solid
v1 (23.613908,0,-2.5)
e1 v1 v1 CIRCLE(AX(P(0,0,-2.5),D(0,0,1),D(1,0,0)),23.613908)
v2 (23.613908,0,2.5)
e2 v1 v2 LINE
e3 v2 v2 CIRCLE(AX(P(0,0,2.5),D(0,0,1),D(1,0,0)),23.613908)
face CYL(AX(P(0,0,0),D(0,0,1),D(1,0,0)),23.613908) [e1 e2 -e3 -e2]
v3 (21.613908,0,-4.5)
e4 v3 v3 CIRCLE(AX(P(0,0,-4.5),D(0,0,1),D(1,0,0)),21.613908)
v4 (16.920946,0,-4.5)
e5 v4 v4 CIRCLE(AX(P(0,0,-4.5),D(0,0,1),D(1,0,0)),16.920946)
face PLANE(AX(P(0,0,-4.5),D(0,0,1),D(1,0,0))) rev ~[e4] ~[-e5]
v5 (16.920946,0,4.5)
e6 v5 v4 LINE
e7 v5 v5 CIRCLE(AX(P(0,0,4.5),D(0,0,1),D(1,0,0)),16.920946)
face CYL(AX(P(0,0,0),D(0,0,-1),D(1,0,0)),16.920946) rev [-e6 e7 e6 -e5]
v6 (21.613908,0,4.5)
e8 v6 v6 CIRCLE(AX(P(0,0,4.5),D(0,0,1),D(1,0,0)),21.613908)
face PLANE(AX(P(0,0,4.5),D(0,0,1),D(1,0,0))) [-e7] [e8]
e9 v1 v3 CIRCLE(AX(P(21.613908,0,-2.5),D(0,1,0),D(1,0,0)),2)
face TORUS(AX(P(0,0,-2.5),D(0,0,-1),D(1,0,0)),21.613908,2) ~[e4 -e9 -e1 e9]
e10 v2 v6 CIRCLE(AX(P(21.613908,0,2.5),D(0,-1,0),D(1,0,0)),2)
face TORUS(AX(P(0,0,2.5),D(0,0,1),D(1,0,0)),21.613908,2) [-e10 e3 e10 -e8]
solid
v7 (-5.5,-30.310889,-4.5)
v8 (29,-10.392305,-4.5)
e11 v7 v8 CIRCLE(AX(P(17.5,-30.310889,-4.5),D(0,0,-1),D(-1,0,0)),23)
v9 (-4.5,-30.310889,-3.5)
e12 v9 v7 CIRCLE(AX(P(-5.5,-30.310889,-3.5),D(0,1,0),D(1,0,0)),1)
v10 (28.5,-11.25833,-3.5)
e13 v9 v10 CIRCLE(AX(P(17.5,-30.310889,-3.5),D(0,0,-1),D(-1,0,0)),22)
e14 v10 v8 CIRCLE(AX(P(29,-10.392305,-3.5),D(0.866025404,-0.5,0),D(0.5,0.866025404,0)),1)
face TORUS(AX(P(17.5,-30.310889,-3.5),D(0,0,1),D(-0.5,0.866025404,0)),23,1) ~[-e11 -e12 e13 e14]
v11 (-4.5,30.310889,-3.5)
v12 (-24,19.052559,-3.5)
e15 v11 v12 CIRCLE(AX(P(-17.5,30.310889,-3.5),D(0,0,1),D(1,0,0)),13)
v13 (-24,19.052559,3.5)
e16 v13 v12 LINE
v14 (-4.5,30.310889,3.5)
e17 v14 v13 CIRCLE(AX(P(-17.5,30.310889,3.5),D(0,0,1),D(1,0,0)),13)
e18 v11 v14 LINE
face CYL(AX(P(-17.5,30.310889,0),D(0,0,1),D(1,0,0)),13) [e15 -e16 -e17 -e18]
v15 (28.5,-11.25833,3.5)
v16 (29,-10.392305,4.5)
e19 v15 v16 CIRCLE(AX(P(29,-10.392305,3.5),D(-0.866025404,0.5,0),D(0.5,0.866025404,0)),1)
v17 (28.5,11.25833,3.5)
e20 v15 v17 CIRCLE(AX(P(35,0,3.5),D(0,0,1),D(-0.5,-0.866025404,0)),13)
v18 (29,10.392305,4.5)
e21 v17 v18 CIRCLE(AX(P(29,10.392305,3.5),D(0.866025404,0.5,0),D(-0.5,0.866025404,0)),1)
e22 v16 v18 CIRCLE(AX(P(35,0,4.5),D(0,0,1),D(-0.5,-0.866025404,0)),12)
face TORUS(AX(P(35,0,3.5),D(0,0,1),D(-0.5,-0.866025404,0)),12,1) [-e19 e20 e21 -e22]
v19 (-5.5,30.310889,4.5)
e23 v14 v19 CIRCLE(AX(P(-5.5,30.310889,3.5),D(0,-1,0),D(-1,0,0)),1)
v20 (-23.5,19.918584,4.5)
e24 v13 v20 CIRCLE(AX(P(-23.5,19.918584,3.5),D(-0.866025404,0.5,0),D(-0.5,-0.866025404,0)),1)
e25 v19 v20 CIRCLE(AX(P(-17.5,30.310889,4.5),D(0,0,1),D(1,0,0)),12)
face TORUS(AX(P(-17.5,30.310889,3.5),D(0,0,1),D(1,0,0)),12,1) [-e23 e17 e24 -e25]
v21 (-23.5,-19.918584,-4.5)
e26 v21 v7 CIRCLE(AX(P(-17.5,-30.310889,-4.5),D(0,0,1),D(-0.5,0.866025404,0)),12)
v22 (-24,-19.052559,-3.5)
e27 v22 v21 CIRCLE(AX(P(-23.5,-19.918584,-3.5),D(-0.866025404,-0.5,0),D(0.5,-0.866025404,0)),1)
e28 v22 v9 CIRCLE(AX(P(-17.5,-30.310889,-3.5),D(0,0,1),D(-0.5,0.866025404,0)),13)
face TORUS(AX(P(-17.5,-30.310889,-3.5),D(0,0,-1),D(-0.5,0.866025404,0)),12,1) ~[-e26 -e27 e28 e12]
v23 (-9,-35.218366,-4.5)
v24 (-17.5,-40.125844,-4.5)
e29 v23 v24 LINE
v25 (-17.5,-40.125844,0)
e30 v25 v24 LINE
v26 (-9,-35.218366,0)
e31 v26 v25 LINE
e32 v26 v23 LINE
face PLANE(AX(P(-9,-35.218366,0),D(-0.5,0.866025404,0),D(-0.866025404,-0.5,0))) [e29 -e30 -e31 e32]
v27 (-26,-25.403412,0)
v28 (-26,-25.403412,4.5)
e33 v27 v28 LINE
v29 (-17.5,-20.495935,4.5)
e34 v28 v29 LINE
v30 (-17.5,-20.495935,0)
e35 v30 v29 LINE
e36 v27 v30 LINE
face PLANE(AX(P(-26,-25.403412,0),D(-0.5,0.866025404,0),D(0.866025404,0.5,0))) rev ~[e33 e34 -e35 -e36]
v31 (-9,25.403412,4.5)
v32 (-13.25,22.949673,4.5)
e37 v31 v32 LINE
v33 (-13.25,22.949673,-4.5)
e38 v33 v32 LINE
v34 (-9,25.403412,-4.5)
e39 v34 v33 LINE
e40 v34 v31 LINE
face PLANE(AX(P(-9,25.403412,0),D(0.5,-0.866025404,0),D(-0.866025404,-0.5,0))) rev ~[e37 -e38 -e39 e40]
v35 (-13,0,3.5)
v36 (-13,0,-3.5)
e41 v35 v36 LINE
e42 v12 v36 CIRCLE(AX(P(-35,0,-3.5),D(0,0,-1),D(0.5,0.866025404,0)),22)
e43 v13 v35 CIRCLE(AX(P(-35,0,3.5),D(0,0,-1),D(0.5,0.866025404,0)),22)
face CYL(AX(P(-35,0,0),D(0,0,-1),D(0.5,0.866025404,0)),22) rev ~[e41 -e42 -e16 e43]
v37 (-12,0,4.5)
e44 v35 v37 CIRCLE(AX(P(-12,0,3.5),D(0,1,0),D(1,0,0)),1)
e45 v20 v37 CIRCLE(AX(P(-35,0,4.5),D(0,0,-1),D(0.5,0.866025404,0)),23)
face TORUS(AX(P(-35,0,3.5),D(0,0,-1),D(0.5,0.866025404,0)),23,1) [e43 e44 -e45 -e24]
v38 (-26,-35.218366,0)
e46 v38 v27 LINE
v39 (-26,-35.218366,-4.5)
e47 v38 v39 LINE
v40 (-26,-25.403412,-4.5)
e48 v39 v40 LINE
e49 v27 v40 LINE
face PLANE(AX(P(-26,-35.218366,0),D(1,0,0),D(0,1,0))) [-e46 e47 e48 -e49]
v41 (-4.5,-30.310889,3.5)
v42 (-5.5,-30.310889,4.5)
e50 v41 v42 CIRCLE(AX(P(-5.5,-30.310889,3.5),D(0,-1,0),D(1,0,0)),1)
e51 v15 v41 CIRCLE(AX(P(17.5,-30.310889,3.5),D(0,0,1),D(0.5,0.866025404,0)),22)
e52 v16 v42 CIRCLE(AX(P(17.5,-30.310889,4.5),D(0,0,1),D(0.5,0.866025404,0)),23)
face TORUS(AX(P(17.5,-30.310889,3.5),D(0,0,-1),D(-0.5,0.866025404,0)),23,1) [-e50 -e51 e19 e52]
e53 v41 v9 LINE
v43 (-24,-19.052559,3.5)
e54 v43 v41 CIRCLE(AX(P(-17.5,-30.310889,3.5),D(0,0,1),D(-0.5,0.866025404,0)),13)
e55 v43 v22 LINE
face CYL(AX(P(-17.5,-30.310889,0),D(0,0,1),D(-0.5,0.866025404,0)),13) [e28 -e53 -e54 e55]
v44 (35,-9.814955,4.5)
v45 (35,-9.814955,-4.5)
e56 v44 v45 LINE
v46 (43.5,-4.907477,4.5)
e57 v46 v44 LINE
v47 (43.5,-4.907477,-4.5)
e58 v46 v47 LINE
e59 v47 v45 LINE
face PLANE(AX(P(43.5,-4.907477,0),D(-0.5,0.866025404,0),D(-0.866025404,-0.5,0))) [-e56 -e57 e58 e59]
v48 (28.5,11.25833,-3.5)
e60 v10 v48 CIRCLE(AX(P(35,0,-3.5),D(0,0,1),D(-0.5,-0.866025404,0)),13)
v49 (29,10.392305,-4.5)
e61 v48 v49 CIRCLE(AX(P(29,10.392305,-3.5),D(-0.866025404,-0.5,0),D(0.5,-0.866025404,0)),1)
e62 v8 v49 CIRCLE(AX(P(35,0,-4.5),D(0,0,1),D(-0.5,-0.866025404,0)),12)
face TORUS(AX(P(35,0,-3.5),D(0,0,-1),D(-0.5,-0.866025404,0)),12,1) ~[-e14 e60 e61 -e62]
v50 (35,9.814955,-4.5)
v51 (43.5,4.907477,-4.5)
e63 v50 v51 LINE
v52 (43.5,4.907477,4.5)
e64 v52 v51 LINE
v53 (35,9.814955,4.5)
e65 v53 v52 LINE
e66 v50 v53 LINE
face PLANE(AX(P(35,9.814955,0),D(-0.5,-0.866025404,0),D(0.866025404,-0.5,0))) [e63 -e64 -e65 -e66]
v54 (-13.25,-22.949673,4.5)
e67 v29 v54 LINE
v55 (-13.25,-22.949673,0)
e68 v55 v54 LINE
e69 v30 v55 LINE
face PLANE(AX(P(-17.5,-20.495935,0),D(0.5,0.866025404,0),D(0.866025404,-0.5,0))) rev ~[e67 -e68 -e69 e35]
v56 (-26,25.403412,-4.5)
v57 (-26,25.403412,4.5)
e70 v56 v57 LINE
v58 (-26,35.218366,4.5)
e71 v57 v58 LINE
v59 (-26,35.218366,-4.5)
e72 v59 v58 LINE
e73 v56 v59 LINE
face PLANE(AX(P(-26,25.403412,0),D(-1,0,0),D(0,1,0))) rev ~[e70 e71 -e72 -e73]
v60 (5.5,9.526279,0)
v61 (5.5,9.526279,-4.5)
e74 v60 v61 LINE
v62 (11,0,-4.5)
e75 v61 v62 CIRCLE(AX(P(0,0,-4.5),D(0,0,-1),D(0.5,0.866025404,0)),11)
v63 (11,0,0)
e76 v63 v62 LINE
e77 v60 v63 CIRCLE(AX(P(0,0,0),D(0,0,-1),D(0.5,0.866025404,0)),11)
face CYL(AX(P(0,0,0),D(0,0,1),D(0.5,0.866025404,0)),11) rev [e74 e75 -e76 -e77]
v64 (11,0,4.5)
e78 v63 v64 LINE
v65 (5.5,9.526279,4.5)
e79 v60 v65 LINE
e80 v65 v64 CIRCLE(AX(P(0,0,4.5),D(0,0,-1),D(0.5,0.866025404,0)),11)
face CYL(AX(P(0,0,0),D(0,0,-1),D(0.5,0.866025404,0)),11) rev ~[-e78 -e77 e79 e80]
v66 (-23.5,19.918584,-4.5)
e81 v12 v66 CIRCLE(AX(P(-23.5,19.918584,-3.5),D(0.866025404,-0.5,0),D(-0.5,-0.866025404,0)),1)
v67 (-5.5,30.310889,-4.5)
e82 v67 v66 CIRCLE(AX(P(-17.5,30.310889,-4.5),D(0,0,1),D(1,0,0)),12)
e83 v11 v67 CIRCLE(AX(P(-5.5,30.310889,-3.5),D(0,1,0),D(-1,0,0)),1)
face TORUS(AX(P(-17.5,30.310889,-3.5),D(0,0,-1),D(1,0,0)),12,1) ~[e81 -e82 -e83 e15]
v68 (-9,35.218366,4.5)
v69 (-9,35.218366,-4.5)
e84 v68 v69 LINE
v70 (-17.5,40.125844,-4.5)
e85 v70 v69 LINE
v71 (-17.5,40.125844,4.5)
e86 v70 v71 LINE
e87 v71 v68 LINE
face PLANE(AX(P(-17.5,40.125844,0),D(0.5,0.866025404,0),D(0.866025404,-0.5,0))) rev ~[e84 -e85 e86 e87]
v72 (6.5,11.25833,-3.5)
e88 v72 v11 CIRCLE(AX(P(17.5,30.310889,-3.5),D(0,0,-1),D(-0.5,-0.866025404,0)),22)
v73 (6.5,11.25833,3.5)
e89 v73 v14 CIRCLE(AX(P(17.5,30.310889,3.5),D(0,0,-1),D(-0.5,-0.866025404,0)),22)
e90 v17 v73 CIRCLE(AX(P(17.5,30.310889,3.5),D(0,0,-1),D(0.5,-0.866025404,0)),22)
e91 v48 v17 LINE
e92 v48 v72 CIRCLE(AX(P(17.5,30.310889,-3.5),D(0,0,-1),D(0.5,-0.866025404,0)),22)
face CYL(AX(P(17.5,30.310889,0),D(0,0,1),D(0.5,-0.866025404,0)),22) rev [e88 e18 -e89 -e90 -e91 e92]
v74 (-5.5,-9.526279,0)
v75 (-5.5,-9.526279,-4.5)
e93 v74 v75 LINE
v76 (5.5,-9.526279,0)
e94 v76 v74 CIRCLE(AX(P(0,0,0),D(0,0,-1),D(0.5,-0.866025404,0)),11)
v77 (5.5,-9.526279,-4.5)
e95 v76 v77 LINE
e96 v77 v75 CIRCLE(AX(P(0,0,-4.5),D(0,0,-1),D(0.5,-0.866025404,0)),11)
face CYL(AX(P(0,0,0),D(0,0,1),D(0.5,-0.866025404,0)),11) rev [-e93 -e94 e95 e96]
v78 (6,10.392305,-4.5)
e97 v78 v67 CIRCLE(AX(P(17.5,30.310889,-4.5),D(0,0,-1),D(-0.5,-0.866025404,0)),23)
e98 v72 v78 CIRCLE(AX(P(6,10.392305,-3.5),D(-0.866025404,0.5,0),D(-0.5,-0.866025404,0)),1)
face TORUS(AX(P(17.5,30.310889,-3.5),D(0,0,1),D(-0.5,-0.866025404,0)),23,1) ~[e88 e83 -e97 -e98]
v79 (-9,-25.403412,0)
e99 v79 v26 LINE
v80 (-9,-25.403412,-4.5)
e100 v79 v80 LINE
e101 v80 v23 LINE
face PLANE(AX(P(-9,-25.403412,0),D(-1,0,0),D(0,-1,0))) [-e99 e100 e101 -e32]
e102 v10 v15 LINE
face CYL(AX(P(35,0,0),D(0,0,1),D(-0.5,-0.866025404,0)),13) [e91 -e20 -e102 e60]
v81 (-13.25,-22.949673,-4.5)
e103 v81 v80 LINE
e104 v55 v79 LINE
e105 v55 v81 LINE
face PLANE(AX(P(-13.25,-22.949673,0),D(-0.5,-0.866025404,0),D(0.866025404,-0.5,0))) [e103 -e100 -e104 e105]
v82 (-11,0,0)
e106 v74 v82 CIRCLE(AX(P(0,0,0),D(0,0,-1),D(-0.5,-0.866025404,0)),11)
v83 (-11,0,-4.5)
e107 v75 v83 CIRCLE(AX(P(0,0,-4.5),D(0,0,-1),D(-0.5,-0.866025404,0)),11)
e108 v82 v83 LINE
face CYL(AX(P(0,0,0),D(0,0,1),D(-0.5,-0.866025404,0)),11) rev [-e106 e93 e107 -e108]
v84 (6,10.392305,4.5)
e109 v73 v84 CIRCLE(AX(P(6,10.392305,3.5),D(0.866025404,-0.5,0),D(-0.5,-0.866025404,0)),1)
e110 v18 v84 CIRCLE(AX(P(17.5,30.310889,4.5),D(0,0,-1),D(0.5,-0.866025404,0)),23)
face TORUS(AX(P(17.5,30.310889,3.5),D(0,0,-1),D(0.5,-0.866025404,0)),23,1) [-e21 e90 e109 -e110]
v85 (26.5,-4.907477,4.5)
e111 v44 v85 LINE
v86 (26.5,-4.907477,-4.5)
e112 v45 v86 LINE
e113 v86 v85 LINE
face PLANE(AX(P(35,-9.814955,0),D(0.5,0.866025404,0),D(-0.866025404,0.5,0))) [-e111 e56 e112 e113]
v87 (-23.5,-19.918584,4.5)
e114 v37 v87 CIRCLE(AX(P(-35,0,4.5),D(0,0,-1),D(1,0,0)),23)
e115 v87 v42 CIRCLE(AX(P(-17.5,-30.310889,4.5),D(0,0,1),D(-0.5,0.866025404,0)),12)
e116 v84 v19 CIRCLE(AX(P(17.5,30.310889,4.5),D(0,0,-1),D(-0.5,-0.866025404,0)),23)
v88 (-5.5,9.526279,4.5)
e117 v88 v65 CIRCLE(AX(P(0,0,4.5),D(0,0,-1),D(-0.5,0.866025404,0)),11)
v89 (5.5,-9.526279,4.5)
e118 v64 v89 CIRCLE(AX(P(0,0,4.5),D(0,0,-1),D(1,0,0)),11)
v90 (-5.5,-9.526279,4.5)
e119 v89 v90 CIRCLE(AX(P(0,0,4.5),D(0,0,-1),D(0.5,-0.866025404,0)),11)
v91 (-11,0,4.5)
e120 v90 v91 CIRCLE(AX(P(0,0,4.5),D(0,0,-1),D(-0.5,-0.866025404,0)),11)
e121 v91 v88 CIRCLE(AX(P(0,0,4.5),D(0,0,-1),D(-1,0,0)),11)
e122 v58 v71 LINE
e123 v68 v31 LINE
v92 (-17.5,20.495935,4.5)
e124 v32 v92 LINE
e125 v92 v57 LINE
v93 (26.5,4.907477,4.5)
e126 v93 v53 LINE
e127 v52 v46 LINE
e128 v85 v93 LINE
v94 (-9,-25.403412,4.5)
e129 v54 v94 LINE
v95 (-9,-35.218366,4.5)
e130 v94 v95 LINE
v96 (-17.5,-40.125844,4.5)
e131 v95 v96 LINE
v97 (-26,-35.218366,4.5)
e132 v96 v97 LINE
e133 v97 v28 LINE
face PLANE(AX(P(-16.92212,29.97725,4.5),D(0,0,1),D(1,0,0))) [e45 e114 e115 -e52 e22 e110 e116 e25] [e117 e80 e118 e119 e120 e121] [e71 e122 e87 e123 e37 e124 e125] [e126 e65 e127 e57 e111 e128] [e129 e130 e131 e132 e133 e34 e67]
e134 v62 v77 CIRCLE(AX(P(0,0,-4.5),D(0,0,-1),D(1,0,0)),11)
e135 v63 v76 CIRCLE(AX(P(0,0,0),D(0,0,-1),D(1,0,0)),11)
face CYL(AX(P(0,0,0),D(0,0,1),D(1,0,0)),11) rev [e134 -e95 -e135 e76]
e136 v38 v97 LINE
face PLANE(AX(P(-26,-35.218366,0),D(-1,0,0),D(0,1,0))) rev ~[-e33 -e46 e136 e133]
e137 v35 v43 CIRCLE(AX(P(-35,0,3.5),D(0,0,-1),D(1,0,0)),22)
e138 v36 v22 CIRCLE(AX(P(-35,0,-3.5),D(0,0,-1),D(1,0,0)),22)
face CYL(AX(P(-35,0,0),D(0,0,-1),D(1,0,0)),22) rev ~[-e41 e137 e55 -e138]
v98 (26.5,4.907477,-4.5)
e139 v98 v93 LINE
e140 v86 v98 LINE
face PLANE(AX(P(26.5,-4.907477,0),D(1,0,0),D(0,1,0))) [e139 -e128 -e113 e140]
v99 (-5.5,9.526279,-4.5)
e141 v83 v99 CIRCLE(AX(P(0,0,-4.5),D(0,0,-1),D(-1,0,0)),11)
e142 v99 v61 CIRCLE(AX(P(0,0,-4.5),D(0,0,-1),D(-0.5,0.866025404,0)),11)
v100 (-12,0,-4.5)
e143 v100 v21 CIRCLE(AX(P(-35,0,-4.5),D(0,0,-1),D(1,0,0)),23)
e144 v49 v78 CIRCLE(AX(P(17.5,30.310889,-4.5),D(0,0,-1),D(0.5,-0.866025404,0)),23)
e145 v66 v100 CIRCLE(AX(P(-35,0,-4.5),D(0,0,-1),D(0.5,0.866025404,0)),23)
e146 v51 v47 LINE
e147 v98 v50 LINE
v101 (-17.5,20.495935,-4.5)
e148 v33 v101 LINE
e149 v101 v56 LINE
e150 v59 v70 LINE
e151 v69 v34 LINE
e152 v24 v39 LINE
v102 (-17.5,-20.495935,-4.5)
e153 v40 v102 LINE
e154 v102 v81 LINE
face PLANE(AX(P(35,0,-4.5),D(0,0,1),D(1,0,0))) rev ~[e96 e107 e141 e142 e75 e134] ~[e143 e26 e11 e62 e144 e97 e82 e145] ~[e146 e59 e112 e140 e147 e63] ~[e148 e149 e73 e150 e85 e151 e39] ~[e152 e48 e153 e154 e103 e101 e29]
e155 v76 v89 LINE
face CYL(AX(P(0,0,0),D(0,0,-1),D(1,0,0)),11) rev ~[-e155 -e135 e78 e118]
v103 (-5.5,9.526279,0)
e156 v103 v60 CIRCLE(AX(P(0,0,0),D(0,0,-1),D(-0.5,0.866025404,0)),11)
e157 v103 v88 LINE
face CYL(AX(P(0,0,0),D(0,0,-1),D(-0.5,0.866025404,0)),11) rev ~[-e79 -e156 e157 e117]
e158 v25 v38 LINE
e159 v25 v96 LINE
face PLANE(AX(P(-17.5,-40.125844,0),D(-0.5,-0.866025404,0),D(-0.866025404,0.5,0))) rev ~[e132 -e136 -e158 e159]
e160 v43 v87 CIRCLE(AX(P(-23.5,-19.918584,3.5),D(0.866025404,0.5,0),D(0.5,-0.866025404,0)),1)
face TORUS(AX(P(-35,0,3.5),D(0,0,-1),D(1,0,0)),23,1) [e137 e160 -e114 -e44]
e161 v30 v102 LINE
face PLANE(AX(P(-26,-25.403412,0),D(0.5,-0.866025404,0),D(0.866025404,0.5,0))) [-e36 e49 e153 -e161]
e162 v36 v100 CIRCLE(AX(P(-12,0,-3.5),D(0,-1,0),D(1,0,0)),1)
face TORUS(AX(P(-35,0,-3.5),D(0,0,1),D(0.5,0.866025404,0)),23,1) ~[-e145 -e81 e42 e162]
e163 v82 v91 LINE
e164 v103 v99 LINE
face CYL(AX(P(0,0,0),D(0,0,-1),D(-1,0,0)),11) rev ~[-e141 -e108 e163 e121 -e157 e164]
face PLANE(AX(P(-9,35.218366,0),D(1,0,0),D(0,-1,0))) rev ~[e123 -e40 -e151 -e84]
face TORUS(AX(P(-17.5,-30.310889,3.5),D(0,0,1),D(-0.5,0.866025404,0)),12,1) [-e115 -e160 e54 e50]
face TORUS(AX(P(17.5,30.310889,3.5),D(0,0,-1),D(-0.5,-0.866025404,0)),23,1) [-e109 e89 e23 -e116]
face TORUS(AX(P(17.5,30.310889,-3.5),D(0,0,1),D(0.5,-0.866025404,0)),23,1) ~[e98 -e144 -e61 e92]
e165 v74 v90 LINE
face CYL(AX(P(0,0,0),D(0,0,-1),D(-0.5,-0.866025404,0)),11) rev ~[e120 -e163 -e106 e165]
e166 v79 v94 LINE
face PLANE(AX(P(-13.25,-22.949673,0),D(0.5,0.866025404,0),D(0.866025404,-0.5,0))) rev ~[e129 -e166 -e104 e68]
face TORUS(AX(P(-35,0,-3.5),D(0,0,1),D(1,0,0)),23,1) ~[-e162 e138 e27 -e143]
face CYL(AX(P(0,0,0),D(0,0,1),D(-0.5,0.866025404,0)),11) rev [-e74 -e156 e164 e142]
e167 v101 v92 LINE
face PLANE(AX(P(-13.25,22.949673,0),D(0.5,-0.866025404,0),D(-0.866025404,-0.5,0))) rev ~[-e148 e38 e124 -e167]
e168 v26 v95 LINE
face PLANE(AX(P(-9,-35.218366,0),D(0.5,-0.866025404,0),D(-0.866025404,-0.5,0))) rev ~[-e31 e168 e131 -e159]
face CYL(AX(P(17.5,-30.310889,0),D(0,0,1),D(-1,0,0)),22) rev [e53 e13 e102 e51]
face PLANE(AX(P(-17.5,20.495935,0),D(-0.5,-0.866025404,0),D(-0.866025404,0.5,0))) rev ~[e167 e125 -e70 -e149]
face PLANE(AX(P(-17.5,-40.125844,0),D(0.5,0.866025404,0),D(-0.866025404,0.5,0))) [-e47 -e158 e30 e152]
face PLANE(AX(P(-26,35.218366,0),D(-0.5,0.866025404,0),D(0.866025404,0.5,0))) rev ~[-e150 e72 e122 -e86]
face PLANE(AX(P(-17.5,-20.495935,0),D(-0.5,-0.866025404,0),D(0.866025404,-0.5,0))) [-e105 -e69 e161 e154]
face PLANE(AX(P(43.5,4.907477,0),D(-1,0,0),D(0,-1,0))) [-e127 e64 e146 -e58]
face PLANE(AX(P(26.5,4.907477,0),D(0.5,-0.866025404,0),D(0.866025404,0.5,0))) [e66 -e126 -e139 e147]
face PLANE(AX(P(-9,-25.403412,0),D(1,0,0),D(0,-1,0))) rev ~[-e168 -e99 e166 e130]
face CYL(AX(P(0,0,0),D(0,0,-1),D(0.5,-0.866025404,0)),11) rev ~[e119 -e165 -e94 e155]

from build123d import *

# Parameters (mm, degrees)
F1_DEPTH = 4.5
F2_R     = 1
F3_DEPTH = 4.5
F4_R     = 23.613908077
F4_R_2   = 16.9209464744
F5_DEPTH = 4.5
F6_DEPTH = 4.5
F7_R     = 2


with BuildPart() as f1:
    # F0 (on Top) → F1 (new body, symmetric)
    with BuildSketch(Plane.XY):
        with BuildLine():
            ThreePointArc((-11, 0), (-9.5262794416, 5.5), (-5.5, 9.5262794416))
            Line((-5.5, 9.5262794416), (-11, 19.0525588833))
            ThreePointArc((-11, 19.0525588833), (-17.5, 17.3108891325), (-24, 19.0525588833))
            ThreePointArc((-24, 19.0525588833), (-15.9474411167, 11), (-13, 0))
            Line((-13, 0), (-11, 0))
        make_face()
        with BuildLine():
            Line((-11, 19.0525588833), (-5.5, 9.5262794416))
            ThreePointArc((-5.5, 9.5262794416), (0, 11), (5.5, 9.5262794416))
            Line((5.5, 9.5262794416), (6.5, 11.2583302492))
            ThreePointArc((6.5, 11.2583302492), (-1.5525588833, 19.3108891325), (-4.5, 30.3108891325))
            ThreePointArc((-4.5, 30.3108891325), (-6.2416697508, 23.8108891325), (-11, 19.0525588833))
        make_face()
        with BuildLine():
            ThreePointArc((5.5, 9.5262794416), (9.5262794416, 5.5), (11, 0))
            Line((11, 0), (22, 0))
            ThreePointArc((22, 0), (23.7416697508, 6.5), (28.5, 11.2583302492))
            ThreePointArc((28.5, 11.2583302492), (17.5, 8.3108891325), (6.5, 11.2583302492))
            Line((6.5, 11.2583302492), (5.5, 9.5262794416))
        make_face()
        with BuildLine():
            Line((22, 0), (11, 0))
            ThreePointArc((11, 0), (9.5262794416, -5.5), (5.5, -9.5262794416))
            Line((5.5, -9.5262794416), (6.5, -11.2583302492))
            ThreePointArc((6.5, -11.2583302492), (17.5, -8.3108891325), (28.5, -11.2583302492))
            ThreePointArc((28.5, -11.2583302492), (23.7416697508, -6.5), (22, 0))
        make_face()
        with BuildLine():
            ThreePointArc((5.5, -9.5262794416), (0, -11), (-5.5, -9.5262794416))
            Line((-5.5, -9.5262794416), (-11, -19.0525588833))
            ThreePointArc((-11, -19.0525588833), (-6.2416697508, -23.8108891325), (-4.5, -30.3108891325))
            ThreePointArc((-4.5, -30.3108891325), (-1.5525588833, -19.3108891325), (6.5, -11.2583302492))
            Line((6.5, -11.2583302492), (5.5, -9.5262794416))
        make_face()
        with BuildLine():
            Line((-11, -19.0525588833), (-5.5, -9.5262794416))
            ThreePointArc((-5.5, -9.5262794416), (-9.5262794416, -5.5), (-11, 0))
            Line((-11, 0), (-13, 0))
            ThreePointArc((-13, 0), (-15.9474411167, -11), (-24, -19.0525588833))
            ThreePointArc((-24, -19.0525588833), (-17.5, -17.3108891325), (-11, -19.0525588833))
        make_face()
        with BuildLine():
            ThreePointArc((28.5, 11.2583302492), (23.7416697508, 6.5), (22, 0))
            ThreePointArc((22, 0), (23.7416697508, -6.5), (28.5, -11.2583302492))
            ThreePointArc((28.5, -11.2583302492), (41.5, -11.2583302492), (48, 0))
            ThreePointArc((48, 0), (41.5, 11.2583302492), (28.5, 11.2583302492))
        make_face()
        with BuildLine():
            ThreePointArc((46, 0), (35, -11), (24, 0))
            ThreePointArc((24, 0), (35, 11), (46, 0))
        make_face(mode=Mode.SUBTRACT)
        with BuildLine():
            ThreePointArc((-24, 19.0525588833), (-17.5, 17.3108891325), (-11, 19.0525588833))
            ThreePointArc((-11, 19.0525588833), (-6.2416697508, 23.8108891325), (-4.5, 30.3108891325))
            ThreePointArc((-4.5, 30.3108891325), (-24, 41.5692193817), (-24, 19.0525588833))
        make_face()
        with BuildLine():
            ThreePointArc((-6.5, 30.3108891325), (-7.9737205584, 24.8108891325), (-12, 20.7846096908))
            ThreePointArc((-12, 20.7846096908), (-27.0262794416, 35.8108891325), (-6.5, 30.3108891325))
        make_face(mode=Mode.SUBTRACT)
        with BuildLine():
            ThreePointArc((-4.5, -30.3108891325), (-6.2416697508, -23.8108891325), (-11, -19.0525588833))
            ThreePointArc((-11, -19.0525588833), (-17.5, -17.3108891325), (-24, -19.0525588833))
            ThreePointArc((-24, -19.0525588833), (-24, -41.5692193817), (-4.5, -30.3108891325))
        make_face()
        with BuildLine():
            ThreePointArc((-6.5, -30.3108891325), (-27.0262794416, -35.8108891325), (-12, -20.7846096908))
            ThreePointArc((-12, -20.7846096908), (-7.9737205584, -24.8108891325), (-6.5, -30.3108891325))
        make_face(mode=Mode.SUBTRACT)
    extrude(amount=F1_DEPTH, both=True)

    # F2
    f2_edges = [f1.edges().sort_by_distance(p)[0] for p in [
        (6.5, -11.25833, 4.5),
        (6.5, 11.25833, -4.5),
        (-13, 0, -4.5),
    ]]
    fillet(f2_edges, radius=F2_R)

    # F0 (on Top) → F3 (join)
    with BuildSketch(Plane.XY):
        with BuildLine():
            ThreePointArc((-6.5, 30.3108891325), (-27.0262794416, 35.8108891325), (-12, 20.7846096908))
            ThreePointArc((-12, 20.7846096908), (-7.9737205584, 24.8108891325), (-6.5, 30.3108891325))
        make_face()
        Polygon((-9, 25.4034118443), (-13.25, 22.9496732003), (-17.5, 20.4959345562), (-26, 25.4034118443), (-26, 35.2183664206), (-17.5, 40.1258437087), (-9, 35.2183664206), align=None, mode=Mode.SUBTRACT)
        with BuildLine():
            ThreePointArc((46, 0), (35, 11), (24, 0))
            ThreePointArc((24, 0), (35, -11), (46, 0))
        make_face()
        Polygon((26.5, -4.9074772881), (26.5, 0), (26.5, 4.9074772881), (35, 9.8149545762), (43.5, 4.9074772881), (43.5, -4.9074772881), (35, -9.8149545762), align=None, mode=Mode.SUBTRACT)
        with BuildLine():
            ThreePointArc((-6.5, -30.3108891325), (-7.9737205584, -24.8108891325), (-12, -20.7846096908))
            ThreePointArc((-12, -20.7846096908), (-27.0262794416, -35.8108891325), (-6.5, -30.3108891325))
        make_face()
        Polygon((-17.5, -20.4959345562), (-13.25, -22.9496732003), (-9, -25.4034118443), (-9, -35.2183664206), (-17.5, -40.1258437087), (-26, -35.2183664206), (-26, -25.4034118443), align=None, mode=Mode.SUBTRACT)
    extrude(amount=F3_DEPTH)

    # F0 (on Top) → F6 (join)
    with BuildSketch(Plane.XY):
        with BuildLine():
            ThreePointArc((46, 0), (35, 11), (24, 0))
            ThreePointArc((24, 0), (35, -11), (46, 0))
        make_face()
        Polygon((26.5, -4.9074772881), (26.5, 0), (26.5, 4.9074772881), (35, 9.8149545762), (43.5, 4.9074772881), (43.5, -4.9074772881), (35, -9.8149545762), align=None, mode=Mode.SUBTRACT)
        with BuildLine():
            ThreePointArc((-6.5, 30.3108891325), (-27.0262794416, 35.8108891325), (-12, 20.7846096908))
            ThreePointArc((-12, 20.7846096908), (-7.9737205584, 24.8108891325), (-6.5, 30.3108891325))
        make_face()
        Polygon((-9, 25.4034118443), (-13.25, 22.9496732003), (-17.5, 20.4959345562), (-26, 25.4034118443), (-26, 35.2183664206), (-17.5, 40.1258437087), (-9, 35.2183664206), align=None, mode=Mode.SUBTRACT)
        with BuildLine():
            ThreePointArc((-6.5, -30.3108891325), (-7.9737205584, -24.8108891325), (-12, -20.7846096908))
            ThreePointArc((-12, -20.7846096908), (-27.0262794416, -35.8108891325), (-6.5, -30.3108891325))
        make_face()
        Polygon((-17.5, -20.4959345562), (-13.25, -22.9496732003), (-9, -25.4034118443), (-9, -35.2183664206), (-17.5, -40.1258437087), (-26, -35.2183664206), (-26, -25.4034118443), align=None, mode=Mode.SUBTRACT)
    extrude(amount=-F6_DEPTH)


with BuildPart() as f5:
    # F4 (on Top) → F5 (new body, symmetric)
    with BuildSketch(Plane.XY):
        Circle(F4_R)
        Circle(F4_R_2, mode=Mode.SUBTRACT)
    extrude(amount=F5_DEPTH, both=True)

    # F7
    f7_edges = [f5.edges().sort_by_distance(p)[0] for p in [
        (-23.613908, 0, 4.5),
        (-23.613908, 0, -4.5),
    ]]
    fillet(f7_edges, radius=F7_R)


solid = Compound([f1.part, f5.part])
